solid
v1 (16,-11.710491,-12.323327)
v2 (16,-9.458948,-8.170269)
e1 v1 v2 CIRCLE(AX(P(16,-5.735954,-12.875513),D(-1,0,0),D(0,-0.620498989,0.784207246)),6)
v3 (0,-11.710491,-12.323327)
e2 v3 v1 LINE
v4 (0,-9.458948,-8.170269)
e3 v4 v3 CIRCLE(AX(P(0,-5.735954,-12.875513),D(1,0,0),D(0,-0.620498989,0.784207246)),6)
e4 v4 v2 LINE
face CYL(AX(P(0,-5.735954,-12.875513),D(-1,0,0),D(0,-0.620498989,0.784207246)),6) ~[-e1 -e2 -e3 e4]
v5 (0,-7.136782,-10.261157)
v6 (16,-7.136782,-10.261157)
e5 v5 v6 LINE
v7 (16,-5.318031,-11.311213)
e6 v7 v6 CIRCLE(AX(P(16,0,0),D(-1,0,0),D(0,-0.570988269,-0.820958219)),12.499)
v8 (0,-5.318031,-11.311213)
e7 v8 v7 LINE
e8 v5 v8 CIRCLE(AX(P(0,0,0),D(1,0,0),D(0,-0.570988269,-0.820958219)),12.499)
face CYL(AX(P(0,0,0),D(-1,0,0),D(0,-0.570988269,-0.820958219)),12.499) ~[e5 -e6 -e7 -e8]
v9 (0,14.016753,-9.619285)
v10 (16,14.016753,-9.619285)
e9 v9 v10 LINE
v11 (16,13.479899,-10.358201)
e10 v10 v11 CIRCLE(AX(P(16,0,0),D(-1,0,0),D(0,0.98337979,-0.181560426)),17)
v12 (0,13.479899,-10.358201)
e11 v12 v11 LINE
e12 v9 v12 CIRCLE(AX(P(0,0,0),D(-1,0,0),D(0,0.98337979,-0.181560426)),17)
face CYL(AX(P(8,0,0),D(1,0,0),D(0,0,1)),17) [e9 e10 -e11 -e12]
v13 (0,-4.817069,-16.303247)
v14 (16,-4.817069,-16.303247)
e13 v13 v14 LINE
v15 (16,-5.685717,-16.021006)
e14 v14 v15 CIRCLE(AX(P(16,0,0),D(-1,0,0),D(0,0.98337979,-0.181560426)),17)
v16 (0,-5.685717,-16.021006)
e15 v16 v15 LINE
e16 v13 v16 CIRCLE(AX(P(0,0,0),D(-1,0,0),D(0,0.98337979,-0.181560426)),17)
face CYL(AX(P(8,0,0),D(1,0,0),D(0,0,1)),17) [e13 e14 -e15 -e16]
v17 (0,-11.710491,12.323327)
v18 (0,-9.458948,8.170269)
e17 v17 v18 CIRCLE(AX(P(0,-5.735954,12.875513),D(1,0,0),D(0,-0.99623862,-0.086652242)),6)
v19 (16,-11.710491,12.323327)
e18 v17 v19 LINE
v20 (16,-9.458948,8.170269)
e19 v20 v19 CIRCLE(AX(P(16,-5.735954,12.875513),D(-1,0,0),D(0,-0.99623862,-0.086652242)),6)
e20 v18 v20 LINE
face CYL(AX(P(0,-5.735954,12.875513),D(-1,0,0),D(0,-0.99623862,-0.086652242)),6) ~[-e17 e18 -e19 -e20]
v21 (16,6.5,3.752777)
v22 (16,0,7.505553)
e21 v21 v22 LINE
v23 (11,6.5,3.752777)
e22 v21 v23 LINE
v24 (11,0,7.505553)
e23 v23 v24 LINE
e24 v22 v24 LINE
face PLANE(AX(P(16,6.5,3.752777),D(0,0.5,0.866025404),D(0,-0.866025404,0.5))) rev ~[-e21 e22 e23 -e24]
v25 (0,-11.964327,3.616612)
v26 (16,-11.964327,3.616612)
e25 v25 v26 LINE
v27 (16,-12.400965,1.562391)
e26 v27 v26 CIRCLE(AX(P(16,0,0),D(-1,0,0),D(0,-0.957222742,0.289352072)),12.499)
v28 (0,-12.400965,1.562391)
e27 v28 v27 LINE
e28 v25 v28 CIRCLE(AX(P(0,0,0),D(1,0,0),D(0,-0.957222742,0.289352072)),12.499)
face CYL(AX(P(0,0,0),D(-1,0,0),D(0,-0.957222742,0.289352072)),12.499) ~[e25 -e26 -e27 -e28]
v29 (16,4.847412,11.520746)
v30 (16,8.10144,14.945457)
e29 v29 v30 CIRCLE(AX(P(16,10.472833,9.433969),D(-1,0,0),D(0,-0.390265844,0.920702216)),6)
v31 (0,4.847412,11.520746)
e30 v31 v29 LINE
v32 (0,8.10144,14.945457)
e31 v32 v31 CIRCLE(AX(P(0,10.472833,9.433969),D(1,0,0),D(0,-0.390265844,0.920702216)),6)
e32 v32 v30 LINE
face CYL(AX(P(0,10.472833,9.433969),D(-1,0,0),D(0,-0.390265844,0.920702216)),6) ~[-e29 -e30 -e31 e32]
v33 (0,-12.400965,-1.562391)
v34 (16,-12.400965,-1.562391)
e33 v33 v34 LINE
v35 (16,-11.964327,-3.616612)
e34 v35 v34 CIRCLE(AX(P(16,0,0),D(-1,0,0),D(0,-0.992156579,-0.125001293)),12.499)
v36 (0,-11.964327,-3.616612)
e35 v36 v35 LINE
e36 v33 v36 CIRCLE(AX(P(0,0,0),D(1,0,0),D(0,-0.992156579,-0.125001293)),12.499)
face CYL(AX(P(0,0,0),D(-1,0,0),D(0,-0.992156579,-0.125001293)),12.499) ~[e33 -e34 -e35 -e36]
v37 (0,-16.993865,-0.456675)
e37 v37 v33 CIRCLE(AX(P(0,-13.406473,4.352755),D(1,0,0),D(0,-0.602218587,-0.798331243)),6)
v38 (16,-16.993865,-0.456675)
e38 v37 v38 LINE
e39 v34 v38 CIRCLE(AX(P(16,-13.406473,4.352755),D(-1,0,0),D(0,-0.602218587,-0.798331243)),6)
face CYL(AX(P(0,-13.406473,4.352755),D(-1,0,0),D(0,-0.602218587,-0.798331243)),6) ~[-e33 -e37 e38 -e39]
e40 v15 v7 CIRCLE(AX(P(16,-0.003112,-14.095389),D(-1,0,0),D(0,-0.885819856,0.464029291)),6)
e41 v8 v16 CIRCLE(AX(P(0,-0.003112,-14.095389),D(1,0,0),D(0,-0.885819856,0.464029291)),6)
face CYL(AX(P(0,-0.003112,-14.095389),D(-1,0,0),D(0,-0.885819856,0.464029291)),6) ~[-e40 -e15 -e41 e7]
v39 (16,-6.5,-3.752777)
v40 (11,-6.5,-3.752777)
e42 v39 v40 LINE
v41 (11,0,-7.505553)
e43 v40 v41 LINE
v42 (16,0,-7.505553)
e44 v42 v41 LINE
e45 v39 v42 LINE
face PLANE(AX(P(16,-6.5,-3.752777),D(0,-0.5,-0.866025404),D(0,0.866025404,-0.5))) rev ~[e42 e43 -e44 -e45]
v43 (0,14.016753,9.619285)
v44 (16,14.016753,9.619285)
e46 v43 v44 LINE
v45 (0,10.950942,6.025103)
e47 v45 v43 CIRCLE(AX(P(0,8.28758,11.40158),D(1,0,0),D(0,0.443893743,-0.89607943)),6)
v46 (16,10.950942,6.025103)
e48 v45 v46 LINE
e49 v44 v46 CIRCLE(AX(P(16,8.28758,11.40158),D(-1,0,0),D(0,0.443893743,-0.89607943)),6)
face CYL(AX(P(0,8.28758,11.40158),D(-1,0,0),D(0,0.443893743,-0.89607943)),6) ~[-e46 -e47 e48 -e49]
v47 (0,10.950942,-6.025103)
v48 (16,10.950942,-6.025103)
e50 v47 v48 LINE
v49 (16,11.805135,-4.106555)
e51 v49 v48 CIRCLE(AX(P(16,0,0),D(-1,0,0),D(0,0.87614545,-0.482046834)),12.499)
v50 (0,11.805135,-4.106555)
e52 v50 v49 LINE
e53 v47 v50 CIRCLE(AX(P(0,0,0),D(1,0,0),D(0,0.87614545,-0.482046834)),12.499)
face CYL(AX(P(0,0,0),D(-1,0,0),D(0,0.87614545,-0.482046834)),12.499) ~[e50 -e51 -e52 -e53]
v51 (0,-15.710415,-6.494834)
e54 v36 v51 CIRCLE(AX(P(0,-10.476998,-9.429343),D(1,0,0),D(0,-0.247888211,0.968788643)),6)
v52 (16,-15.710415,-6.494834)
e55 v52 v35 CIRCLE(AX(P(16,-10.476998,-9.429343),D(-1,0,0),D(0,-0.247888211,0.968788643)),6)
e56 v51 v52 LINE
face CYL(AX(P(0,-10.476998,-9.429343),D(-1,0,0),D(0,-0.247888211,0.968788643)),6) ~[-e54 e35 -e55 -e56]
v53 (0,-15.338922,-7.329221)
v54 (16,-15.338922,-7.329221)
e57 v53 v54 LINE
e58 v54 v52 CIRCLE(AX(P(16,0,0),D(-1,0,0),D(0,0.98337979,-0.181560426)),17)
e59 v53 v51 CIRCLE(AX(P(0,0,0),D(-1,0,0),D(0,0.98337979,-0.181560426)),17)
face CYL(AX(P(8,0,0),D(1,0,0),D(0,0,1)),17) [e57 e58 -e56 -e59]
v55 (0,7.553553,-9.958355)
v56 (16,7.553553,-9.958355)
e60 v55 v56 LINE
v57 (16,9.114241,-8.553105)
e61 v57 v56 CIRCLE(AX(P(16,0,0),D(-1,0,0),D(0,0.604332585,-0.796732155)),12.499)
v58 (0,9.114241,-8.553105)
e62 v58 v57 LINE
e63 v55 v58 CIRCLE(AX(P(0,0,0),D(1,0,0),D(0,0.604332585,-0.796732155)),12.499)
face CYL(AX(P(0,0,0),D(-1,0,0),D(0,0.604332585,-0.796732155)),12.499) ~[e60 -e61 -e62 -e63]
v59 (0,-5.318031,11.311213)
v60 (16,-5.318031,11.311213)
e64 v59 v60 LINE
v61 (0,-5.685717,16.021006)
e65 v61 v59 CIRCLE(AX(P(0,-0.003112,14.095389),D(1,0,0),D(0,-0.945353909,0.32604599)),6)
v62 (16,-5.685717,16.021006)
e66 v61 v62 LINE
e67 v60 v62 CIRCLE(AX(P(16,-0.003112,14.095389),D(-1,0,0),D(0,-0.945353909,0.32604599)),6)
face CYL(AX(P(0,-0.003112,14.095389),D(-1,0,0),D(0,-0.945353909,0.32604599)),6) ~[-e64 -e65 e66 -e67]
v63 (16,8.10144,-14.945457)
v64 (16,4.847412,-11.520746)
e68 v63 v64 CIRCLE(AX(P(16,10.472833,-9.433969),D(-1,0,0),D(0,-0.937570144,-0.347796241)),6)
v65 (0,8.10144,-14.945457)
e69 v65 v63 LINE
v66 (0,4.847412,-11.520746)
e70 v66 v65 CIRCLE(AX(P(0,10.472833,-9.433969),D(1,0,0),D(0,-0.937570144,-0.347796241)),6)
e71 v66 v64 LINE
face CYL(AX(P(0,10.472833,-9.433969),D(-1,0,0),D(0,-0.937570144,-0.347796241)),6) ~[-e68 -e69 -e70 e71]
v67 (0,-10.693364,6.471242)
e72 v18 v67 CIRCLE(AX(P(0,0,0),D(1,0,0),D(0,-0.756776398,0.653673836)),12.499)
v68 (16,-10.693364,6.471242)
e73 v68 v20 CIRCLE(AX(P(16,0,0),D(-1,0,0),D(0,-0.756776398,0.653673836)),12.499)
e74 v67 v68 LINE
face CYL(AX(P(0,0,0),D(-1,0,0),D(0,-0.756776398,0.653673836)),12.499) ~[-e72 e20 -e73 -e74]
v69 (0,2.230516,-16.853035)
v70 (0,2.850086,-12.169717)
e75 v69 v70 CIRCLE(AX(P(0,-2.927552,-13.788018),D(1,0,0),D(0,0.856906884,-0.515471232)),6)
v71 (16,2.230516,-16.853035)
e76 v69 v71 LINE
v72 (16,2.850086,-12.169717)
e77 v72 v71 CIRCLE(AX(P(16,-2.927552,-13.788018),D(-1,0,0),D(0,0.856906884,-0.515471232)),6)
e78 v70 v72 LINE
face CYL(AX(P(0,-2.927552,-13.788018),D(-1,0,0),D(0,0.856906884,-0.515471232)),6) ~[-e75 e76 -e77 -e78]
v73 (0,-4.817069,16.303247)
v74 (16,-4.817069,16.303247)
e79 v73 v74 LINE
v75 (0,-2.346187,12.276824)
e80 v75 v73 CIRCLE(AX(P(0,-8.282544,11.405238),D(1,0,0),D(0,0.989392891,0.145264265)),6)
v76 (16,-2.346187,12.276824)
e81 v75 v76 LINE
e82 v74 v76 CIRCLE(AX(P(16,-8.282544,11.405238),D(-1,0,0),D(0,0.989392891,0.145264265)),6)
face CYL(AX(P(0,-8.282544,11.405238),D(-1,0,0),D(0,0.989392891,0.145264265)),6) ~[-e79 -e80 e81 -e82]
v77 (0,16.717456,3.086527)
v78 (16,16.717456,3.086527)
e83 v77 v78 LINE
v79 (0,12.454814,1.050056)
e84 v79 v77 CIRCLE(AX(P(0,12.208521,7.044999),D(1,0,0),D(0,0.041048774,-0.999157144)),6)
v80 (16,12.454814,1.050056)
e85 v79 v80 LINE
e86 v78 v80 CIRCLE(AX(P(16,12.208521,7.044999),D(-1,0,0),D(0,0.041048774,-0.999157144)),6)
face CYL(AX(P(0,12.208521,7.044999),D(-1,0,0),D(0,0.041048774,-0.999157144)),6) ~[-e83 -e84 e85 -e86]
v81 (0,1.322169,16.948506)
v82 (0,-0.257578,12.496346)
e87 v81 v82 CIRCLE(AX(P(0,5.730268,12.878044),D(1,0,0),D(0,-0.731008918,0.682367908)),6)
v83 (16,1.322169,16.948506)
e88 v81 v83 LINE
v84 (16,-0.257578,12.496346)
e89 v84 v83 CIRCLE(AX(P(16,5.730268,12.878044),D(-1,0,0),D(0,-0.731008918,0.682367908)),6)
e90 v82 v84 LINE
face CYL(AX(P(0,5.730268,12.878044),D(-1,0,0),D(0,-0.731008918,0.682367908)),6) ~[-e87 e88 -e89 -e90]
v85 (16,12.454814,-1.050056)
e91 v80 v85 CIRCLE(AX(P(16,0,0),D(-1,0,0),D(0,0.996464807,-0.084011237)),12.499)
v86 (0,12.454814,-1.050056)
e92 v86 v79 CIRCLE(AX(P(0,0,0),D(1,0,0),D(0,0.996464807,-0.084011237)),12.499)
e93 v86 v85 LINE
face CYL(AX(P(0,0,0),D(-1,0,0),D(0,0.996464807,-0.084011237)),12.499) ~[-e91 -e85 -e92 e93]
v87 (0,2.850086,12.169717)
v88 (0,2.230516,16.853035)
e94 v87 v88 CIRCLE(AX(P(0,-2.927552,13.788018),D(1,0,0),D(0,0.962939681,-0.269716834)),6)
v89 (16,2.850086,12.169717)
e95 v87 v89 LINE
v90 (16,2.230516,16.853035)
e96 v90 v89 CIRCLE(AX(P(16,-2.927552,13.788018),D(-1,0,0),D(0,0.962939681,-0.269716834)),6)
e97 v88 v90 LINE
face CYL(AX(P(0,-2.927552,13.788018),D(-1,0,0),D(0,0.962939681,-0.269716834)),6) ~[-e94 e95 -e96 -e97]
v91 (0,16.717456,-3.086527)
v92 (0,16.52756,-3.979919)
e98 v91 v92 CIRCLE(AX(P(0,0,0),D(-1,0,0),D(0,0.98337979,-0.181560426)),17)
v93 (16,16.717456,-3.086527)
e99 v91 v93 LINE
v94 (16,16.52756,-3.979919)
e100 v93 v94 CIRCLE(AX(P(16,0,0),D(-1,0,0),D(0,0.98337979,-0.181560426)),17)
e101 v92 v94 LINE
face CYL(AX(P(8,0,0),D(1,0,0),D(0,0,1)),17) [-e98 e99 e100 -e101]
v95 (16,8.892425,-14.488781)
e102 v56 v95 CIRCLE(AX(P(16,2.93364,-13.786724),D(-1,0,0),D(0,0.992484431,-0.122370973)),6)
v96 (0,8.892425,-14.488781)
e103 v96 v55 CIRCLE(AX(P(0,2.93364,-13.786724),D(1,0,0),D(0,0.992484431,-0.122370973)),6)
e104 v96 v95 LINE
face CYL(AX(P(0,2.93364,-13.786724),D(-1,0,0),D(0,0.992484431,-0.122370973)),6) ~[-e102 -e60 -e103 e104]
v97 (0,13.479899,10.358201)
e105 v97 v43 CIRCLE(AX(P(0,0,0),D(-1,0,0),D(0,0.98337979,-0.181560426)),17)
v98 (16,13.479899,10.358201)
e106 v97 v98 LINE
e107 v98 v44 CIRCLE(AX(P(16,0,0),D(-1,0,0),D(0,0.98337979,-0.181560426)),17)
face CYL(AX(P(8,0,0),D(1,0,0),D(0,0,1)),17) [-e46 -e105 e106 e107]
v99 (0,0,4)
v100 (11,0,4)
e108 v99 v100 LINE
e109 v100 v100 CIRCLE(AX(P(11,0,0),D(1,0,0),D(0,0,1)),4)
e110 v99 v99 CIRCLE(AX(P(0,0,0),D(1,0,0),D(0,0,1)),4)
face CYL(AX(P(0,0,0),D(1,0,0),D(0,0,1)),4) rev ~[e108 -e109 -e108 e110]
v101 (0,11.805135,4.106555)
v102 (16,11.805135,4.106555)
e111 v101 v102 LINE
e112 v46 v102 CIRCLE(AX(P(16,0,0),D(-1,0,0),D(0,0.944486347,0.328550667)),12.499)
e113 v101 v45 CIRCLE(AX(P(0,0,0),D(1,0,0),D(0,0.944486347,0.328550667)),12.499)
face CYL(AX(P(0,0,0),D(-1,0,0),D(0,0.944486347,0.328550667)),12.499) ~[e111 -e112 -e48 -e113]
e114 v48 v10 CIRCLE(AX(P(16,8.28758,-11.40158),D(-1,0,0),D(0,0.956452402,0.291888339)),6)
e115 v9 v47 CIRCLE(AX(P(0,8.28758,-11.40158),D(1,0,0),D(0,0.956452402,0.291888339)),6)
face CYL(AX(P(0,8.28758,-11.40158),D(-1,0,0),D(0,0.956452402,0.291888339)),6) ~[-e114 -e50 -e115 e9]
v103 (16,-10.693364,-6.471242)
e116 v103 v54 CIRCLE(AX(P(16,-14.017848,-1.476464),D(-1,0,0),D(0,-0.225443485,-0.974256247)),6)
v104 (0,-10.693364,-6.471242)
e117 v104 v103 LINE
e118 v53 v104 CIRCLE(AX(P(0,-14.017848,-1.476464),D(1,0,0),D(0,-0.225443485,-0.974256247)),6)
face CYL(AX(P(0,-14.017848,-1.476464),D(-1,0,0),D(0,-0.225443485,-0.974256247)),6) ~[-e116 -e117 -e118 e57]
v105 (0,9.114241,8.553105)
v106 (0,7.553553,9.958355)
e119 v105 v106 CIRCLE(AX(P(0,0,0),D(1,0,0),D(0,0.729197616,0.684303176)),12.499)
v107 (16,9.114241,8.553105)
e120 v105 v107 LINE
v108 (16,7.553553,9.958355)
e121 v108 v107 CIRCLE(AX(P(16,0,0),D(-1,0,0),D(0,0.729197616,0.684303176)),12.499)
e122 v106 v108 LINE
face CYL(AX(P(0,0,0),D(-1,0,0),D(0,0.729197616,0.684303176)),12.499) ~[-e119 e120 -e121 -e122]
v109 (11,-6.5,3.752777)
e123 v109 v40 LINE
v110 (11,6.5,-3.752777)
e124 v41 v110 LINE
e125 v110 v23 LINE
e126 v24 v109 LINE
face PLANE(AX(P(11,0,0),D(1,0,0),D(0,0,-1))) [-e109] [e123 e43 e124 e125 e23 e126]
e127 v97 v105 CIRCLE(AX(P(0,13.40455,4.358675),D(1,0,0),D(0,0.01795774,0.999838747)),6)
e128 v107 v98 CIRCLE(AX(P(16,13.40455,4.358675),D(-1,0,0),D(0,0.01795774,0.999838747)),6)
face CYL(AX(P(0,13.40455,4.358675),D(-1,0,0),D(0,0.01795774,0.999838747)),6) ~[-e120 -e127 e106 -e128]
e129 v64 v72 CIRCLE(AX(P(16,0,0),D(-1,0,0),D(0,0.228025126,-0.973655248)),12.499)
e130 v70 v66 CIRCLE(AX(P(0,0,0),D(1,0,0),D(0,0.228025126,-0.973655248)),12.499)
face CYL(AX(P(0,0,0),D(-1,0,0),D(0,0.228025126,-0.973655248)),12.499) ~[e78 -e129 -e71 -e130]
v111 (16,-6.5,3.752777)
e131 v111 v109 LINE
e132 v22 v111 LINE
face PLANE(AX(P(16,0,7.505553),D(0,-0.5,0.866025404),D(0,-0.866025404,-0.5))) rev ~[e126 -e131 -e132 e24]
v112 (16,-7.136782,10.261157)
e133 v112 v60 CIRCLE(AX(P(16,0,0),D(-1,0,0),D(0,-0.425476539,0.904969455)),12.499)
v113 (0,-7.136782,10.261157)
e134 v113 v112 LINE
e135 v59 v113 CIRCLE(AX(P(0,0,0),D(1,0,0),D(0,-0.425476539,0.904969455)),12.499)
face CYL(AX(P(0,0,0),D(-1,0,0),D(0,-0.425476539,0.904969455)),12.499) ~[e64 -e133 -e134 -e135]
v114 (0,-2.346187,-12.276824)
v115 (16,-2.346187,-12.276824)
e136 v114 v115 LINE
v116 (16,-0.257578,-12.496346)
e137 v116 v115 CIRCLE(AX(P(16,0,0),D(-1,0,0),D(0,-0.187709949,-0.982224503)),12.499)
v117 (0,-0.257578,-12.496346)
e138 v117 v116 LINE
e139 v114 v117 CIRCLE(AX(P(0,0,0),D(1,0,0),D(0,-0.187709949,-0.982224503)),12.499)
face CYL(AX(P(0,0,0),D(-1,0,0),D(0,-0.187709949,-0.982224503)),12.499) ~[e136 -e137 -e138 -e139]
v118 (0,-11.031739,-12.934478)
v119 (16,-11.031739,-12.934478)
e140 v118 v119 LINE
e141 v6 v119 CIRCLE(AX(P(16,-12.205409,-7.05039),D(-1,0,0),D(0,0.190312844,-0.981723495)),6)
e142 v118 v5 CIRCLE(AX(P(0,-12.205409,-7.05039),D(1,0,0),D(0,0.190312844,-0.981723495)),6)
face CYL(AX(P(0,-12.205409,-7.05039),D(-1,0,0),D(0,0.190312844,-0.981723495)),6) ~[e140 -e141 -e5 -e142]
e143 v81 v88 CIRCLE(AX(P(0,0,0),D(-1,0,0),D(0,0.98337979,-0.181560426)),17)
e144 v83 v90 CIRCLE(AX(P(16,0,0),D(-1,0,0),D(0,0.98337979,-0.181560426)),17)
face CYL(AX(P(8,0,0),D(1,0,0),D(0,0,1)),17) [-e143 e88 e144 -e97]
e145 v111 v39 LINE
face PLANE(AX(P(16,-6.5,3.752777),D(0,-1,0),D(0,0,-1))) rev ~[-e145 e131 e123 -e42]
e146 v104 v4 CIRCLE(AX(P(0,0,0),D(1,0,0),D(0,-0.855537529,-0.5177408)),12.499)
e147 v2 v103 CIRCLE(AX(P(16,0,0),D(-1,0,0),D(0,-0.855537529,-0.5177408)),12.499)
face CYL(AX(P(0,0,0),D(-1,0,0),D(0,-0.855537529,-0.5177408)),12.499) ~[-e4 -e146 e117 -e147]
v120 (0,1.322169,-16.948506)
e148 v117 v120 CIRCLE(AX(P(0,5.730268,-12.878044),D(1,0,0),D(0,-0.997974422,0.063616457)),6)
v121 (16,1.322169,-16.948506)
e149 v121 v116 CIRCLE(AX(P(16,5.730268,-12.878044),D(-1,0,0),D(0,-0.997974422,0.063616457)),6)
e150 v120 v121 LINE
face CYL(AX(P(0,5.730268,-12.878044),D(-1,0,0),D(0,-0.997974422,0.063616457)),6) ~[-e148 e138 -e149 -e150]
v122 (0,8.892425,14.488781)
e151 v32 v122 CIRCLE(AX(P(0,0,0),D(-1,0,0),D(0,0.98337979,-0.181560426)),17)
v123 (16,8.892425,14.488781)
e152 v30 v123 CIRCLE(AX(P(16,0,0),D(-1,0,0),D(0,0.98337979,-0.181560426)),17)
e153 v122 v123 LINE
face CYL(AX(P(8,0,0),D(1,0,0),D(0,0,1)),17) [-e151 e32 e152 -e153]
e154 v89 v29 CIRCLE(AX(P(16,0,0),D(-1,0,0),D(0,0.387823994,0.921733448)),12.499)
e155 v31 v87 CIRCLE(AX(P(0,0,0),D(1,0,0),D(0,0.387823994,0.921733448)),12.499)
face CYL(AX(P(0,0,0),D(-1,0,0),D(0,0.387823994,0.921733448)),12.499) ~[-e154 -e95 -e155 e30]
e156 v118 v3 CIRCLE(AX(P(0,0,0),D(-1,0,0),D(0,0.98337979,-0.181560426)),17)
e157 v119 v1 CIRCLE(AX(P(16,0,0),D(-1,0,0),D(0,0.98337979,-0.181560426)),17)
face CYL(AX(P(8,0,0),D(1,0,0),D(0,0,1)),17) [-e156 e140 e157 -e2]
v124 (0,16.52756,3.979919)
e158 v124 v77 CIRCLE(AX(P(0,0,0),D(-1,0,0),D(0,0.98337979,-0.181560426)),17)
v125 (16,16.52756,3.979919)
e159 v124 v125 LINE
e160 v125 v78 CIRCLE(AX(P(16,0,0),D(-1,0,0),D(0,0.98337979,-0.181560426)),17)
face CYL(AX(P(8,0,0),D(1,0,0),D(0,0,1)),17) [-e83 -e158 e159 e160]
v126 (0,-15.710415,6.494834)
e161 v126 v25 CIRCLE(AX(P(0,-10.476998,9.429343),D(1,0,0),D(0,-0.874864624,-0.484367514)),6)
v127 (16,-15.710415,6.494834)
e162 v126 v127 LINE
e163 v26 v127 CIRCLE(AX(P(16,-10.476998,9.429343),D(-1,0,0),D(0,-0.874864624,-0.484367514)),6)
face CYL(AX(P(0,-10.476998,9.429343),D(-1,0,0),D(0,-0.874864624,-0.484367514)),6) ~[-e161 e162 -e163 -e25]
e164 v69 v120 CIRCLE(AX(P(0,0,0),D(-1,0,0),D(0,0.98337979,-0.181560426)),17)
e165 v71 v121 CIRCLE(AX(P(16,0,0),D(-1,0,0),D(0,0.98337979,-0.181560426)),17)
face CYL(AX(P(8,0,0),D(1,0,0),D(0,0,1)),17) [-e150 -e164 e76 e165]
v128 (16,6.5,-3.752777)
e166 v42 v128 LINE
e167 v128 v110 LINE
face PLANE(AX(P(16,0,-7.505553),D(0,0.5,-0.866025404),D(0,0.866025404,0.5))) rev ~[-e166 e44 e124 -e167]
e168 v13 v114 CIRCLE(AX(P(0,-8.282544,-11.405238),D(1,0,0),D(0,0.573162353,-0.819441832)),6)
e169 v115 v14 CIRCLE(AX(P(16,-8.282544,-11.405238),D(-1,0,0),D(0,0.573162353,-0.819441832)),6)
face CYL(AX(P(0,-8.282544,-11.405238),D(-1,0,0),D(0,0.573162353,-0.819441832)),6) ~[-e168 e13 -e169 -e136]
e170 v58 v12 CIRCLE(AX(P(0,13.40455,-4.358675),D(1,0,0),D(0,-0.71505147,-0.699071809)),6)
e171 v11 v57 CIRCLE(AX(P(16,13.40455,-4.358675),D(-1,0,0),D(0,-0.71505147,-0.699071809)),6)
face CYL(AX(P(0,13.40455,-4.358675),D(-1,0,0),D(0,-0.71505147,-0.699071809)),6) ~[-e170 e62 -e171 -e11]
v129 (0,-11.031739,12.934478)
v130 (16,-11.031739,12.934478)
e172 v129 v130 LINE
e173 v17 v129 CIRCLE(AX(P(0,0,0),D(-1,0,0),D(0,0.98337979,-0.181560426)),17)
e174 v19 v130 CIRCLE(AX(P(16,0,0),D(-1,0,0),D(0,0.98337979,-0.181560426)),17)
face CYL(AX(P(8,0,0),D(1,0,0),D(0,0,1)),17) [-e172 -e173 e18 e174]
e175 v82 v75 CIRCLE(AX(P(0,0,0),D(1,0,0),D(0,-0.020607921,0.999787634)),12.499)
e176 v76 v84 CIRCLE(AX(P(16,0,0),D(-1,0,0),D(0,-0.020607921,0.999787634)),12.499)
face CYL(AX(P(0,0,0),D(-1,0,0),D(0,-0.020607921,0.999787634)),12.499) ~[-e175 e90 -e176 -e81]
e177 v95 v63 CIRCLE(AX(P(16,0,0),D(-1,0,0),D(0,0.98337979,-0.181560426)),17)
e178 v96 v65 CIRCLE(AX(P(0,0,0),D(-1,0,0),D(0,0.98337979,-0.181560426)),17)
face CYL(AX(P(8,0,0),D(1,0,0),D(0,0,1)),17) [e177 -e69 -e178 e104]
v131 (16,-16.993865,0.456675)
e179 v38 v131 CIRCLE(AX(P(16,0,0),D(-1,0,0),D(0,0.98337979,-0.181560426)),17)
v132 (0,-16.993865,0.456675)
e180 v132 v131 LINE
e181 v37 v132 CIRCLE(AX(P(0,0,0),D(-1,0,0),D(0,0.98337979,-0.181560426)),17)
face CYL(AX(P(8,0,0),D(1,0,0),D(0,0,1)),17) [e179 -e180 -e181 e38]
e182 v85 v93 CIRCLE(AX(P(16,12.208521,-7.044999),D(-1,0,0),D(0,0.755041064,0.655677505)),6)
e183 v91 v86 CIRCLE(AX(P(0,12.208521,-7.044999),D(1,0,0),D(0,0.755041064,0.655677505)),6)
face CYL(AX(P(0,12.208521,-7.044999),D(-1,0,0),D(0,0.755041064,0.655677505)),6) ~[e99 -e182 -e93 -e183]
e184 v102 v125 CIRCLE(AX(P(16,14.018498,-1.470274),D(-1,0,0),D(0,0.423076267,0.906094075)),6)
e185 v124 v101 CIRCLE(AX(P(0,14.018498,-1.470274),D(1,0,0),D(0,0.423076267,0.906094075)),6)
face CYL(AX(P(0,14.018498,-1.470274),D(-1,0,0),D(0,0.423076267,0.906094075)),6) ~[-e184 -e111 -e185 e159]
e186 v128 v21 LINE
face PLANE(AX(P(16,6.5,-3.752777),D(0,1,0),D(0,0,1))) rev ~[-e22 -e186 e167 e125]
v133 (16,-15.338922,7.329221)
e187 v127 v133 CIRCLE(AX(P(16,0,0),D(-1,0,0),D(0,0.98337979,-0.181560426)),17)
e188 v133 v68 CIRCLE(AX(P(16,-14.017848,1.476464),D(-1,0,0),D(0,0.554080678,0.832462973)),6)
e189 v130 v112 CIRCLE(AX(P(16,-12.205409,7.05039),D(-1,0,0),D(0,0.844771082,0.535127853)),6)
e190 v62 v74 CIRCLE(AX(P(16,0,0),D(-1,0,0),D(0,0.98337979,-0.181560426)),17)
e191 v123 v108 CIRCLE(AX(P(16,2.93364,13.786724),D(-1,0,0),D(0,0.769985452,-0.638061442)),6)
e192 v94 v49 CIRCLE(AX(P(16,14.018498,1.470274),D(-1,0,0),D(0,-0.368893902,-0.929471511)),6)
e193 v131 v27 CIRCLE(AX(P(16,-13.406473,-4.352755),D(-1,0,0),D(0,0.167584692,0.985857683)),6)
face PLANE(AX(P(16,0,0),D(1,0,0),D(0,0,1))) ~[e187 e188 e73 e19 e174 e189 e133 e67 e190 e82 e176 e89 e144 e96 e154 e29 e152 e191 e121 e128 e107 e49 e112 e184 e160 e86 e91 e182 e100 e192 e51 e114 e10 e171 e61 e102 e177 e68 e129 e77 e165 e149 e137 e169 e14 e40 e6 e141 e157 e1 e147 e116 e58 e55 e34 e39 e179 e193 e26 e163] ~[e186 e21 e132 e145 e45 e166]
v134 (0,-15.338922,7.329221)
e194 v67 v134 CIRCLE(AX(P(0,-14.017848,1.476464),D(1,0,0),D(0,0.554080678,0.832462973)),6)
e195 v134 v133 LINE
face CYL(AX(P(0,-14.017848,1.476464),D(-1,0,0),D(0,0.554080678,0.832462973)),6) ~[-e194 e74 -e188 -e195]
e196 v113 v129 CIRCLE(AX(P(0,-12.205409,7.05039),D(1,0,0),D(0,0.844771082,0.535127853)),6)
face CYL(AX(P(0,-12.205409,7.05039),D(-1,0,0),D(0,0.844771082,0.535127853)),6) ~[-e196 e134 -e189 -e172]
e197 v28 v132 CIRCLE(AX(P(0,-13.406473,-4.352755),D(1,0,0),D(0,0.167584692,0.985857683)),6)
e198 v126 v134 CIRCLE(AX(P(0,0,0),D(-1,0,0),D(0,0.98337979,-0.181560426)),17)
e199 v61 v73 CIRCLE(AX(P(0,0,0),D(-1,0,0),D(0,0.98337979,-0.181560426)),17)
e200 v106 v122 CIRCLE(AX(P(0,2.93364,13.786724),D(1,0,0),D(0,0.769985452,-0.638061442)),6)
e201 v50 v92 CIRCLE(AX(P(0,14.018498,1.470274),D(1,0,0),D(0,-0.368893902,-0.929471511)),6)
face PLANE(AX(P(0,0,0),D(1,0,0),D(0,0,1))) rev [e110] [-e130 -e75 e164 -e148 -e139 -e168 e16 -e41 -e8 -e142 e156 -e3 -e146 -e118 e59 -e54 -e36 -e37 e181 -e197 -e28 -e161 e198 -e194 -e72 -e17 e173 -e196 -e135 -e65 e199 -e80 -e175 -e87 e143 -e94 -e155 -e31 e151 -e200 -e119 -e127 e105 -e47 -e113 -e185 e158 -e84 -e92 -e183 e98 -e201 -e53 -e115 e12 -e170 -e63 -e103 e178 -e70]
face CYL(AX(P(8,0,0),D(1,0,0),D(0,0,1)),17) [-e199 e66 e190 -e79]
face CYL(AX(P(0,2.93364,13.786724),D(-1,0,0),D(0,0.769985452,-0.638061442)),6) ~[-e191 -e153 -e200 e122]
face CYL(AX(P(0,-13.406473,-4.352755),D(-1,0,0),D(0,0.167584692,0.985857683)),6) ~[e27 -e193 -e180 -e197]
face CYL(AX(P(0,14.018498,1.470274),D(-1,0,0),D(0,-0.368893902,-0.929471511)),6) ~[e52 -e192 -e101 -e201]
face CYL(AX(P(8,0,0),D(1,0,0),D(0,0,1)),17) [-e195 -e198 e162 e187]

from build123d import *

# Parameters (mm, degrees)
BASPROSKE_W        = 16
BASPROSKE_H        = 17
TOOTHCUT_DEPTH     = 29.879058156
TEETHCUTS_COUNT    = 15
TEETHCUTS_ANGLE    = 336
BORSKE_R           = 4
BORE_DEPTH         = 50.0000508
CUT_EXTRUDE1_DEPTH = 5


with BuildPart() as part:
    # BasProSke → Base-Revolve (revolve)
    with BuildSketch(Plane(origin=(0, 0, 0), x_dir=(1, 0, 0), z_dir=(0, 1, 0)), mode=Mode.PRIVATE) as base_revolve_sk:
        with Locations((8, 8.5)):
            Rectangle(BASPROSKE_W, BASPROSKE_H)
    revolve(base_revolve_sk.sketch.rotate(Axis((-10, 0, 0), (1, 0, 0)), 180), axis=Axis((-10, 0, 0), (1, 0, 0)))

    # TooCutSke → ToothCut (cut, through all)
    with BuildSketch(Plane(origin=(0, 0, 0), x_dir=(0, 0, -1), z_dir=(1, 0, 0))):
        with BuildLine():
            ThreePointArc((1.050056448, 12.454813626), (0, 12.499), (-1.050056448, 12.454813626))
            ThreePointArc((-1.050056448, 12.454813626), (-1.638118106, 14.809604533), (-3.110934279, 16.73876737))
            ThreePointArc((-3.110934279, 16.73876737), (0, 17.0254), (3.110934279, 16.73876737))
            ThreePointArc((3.110934279, 16.73876737), (1.638118106, 14.809604533), (1.050056448, 12.454813626))
        make_face()
    toothcut = extrude(amount=TOOTHCUT_DEPTH, mode=Mode.SUBTRACT)

    # TeethCuts: ToothCut ×15 about axis
    teethcuts_axis = Axis((-10, 0, 0), (1, 0, 0))
    for i in range(1, TEETHCUTS_COUNT):
        add(toothcut.rotate(teethcuts_axis, i * TEETHCUTS_ANGLE / (TEETHCUTS_COUNT - 1)), mode=Mode.SUBTRACT)

    # BorSke → Bore (cut, symmetric)
    with BuildSketch(Plane(origin=(0, 0, 0), x_dir=(0, 0, -1), z_dir=(1, 0, 0))):
        with Locations(Location((0, 0, 0), (0, 0, 180))):
            Circle(BORSKE_R)
    extrude(amount=BORE_DEPTH, both=True, mode=Mode.SUBTRACT)

    # Sketch1 → Cut-Extrude1 (cut)
    with BuildSketch(Plane(origin=(16, 0, 0), x_dir=(0, 0, -1), z_dir=(1, 0, 0))):
        Polygon((-3.75277675, 6.5), (-7.505553499, 0), (-3.75277675, -6.5), (3.75277675, -6.5), (7.505553499, 0), (3.75277675, 6.5), align=None)
    extrude(amount=-CUT_EXTRUDE1_DEPTH, mode=Mode.SUBTRACT)


solid = part.part
